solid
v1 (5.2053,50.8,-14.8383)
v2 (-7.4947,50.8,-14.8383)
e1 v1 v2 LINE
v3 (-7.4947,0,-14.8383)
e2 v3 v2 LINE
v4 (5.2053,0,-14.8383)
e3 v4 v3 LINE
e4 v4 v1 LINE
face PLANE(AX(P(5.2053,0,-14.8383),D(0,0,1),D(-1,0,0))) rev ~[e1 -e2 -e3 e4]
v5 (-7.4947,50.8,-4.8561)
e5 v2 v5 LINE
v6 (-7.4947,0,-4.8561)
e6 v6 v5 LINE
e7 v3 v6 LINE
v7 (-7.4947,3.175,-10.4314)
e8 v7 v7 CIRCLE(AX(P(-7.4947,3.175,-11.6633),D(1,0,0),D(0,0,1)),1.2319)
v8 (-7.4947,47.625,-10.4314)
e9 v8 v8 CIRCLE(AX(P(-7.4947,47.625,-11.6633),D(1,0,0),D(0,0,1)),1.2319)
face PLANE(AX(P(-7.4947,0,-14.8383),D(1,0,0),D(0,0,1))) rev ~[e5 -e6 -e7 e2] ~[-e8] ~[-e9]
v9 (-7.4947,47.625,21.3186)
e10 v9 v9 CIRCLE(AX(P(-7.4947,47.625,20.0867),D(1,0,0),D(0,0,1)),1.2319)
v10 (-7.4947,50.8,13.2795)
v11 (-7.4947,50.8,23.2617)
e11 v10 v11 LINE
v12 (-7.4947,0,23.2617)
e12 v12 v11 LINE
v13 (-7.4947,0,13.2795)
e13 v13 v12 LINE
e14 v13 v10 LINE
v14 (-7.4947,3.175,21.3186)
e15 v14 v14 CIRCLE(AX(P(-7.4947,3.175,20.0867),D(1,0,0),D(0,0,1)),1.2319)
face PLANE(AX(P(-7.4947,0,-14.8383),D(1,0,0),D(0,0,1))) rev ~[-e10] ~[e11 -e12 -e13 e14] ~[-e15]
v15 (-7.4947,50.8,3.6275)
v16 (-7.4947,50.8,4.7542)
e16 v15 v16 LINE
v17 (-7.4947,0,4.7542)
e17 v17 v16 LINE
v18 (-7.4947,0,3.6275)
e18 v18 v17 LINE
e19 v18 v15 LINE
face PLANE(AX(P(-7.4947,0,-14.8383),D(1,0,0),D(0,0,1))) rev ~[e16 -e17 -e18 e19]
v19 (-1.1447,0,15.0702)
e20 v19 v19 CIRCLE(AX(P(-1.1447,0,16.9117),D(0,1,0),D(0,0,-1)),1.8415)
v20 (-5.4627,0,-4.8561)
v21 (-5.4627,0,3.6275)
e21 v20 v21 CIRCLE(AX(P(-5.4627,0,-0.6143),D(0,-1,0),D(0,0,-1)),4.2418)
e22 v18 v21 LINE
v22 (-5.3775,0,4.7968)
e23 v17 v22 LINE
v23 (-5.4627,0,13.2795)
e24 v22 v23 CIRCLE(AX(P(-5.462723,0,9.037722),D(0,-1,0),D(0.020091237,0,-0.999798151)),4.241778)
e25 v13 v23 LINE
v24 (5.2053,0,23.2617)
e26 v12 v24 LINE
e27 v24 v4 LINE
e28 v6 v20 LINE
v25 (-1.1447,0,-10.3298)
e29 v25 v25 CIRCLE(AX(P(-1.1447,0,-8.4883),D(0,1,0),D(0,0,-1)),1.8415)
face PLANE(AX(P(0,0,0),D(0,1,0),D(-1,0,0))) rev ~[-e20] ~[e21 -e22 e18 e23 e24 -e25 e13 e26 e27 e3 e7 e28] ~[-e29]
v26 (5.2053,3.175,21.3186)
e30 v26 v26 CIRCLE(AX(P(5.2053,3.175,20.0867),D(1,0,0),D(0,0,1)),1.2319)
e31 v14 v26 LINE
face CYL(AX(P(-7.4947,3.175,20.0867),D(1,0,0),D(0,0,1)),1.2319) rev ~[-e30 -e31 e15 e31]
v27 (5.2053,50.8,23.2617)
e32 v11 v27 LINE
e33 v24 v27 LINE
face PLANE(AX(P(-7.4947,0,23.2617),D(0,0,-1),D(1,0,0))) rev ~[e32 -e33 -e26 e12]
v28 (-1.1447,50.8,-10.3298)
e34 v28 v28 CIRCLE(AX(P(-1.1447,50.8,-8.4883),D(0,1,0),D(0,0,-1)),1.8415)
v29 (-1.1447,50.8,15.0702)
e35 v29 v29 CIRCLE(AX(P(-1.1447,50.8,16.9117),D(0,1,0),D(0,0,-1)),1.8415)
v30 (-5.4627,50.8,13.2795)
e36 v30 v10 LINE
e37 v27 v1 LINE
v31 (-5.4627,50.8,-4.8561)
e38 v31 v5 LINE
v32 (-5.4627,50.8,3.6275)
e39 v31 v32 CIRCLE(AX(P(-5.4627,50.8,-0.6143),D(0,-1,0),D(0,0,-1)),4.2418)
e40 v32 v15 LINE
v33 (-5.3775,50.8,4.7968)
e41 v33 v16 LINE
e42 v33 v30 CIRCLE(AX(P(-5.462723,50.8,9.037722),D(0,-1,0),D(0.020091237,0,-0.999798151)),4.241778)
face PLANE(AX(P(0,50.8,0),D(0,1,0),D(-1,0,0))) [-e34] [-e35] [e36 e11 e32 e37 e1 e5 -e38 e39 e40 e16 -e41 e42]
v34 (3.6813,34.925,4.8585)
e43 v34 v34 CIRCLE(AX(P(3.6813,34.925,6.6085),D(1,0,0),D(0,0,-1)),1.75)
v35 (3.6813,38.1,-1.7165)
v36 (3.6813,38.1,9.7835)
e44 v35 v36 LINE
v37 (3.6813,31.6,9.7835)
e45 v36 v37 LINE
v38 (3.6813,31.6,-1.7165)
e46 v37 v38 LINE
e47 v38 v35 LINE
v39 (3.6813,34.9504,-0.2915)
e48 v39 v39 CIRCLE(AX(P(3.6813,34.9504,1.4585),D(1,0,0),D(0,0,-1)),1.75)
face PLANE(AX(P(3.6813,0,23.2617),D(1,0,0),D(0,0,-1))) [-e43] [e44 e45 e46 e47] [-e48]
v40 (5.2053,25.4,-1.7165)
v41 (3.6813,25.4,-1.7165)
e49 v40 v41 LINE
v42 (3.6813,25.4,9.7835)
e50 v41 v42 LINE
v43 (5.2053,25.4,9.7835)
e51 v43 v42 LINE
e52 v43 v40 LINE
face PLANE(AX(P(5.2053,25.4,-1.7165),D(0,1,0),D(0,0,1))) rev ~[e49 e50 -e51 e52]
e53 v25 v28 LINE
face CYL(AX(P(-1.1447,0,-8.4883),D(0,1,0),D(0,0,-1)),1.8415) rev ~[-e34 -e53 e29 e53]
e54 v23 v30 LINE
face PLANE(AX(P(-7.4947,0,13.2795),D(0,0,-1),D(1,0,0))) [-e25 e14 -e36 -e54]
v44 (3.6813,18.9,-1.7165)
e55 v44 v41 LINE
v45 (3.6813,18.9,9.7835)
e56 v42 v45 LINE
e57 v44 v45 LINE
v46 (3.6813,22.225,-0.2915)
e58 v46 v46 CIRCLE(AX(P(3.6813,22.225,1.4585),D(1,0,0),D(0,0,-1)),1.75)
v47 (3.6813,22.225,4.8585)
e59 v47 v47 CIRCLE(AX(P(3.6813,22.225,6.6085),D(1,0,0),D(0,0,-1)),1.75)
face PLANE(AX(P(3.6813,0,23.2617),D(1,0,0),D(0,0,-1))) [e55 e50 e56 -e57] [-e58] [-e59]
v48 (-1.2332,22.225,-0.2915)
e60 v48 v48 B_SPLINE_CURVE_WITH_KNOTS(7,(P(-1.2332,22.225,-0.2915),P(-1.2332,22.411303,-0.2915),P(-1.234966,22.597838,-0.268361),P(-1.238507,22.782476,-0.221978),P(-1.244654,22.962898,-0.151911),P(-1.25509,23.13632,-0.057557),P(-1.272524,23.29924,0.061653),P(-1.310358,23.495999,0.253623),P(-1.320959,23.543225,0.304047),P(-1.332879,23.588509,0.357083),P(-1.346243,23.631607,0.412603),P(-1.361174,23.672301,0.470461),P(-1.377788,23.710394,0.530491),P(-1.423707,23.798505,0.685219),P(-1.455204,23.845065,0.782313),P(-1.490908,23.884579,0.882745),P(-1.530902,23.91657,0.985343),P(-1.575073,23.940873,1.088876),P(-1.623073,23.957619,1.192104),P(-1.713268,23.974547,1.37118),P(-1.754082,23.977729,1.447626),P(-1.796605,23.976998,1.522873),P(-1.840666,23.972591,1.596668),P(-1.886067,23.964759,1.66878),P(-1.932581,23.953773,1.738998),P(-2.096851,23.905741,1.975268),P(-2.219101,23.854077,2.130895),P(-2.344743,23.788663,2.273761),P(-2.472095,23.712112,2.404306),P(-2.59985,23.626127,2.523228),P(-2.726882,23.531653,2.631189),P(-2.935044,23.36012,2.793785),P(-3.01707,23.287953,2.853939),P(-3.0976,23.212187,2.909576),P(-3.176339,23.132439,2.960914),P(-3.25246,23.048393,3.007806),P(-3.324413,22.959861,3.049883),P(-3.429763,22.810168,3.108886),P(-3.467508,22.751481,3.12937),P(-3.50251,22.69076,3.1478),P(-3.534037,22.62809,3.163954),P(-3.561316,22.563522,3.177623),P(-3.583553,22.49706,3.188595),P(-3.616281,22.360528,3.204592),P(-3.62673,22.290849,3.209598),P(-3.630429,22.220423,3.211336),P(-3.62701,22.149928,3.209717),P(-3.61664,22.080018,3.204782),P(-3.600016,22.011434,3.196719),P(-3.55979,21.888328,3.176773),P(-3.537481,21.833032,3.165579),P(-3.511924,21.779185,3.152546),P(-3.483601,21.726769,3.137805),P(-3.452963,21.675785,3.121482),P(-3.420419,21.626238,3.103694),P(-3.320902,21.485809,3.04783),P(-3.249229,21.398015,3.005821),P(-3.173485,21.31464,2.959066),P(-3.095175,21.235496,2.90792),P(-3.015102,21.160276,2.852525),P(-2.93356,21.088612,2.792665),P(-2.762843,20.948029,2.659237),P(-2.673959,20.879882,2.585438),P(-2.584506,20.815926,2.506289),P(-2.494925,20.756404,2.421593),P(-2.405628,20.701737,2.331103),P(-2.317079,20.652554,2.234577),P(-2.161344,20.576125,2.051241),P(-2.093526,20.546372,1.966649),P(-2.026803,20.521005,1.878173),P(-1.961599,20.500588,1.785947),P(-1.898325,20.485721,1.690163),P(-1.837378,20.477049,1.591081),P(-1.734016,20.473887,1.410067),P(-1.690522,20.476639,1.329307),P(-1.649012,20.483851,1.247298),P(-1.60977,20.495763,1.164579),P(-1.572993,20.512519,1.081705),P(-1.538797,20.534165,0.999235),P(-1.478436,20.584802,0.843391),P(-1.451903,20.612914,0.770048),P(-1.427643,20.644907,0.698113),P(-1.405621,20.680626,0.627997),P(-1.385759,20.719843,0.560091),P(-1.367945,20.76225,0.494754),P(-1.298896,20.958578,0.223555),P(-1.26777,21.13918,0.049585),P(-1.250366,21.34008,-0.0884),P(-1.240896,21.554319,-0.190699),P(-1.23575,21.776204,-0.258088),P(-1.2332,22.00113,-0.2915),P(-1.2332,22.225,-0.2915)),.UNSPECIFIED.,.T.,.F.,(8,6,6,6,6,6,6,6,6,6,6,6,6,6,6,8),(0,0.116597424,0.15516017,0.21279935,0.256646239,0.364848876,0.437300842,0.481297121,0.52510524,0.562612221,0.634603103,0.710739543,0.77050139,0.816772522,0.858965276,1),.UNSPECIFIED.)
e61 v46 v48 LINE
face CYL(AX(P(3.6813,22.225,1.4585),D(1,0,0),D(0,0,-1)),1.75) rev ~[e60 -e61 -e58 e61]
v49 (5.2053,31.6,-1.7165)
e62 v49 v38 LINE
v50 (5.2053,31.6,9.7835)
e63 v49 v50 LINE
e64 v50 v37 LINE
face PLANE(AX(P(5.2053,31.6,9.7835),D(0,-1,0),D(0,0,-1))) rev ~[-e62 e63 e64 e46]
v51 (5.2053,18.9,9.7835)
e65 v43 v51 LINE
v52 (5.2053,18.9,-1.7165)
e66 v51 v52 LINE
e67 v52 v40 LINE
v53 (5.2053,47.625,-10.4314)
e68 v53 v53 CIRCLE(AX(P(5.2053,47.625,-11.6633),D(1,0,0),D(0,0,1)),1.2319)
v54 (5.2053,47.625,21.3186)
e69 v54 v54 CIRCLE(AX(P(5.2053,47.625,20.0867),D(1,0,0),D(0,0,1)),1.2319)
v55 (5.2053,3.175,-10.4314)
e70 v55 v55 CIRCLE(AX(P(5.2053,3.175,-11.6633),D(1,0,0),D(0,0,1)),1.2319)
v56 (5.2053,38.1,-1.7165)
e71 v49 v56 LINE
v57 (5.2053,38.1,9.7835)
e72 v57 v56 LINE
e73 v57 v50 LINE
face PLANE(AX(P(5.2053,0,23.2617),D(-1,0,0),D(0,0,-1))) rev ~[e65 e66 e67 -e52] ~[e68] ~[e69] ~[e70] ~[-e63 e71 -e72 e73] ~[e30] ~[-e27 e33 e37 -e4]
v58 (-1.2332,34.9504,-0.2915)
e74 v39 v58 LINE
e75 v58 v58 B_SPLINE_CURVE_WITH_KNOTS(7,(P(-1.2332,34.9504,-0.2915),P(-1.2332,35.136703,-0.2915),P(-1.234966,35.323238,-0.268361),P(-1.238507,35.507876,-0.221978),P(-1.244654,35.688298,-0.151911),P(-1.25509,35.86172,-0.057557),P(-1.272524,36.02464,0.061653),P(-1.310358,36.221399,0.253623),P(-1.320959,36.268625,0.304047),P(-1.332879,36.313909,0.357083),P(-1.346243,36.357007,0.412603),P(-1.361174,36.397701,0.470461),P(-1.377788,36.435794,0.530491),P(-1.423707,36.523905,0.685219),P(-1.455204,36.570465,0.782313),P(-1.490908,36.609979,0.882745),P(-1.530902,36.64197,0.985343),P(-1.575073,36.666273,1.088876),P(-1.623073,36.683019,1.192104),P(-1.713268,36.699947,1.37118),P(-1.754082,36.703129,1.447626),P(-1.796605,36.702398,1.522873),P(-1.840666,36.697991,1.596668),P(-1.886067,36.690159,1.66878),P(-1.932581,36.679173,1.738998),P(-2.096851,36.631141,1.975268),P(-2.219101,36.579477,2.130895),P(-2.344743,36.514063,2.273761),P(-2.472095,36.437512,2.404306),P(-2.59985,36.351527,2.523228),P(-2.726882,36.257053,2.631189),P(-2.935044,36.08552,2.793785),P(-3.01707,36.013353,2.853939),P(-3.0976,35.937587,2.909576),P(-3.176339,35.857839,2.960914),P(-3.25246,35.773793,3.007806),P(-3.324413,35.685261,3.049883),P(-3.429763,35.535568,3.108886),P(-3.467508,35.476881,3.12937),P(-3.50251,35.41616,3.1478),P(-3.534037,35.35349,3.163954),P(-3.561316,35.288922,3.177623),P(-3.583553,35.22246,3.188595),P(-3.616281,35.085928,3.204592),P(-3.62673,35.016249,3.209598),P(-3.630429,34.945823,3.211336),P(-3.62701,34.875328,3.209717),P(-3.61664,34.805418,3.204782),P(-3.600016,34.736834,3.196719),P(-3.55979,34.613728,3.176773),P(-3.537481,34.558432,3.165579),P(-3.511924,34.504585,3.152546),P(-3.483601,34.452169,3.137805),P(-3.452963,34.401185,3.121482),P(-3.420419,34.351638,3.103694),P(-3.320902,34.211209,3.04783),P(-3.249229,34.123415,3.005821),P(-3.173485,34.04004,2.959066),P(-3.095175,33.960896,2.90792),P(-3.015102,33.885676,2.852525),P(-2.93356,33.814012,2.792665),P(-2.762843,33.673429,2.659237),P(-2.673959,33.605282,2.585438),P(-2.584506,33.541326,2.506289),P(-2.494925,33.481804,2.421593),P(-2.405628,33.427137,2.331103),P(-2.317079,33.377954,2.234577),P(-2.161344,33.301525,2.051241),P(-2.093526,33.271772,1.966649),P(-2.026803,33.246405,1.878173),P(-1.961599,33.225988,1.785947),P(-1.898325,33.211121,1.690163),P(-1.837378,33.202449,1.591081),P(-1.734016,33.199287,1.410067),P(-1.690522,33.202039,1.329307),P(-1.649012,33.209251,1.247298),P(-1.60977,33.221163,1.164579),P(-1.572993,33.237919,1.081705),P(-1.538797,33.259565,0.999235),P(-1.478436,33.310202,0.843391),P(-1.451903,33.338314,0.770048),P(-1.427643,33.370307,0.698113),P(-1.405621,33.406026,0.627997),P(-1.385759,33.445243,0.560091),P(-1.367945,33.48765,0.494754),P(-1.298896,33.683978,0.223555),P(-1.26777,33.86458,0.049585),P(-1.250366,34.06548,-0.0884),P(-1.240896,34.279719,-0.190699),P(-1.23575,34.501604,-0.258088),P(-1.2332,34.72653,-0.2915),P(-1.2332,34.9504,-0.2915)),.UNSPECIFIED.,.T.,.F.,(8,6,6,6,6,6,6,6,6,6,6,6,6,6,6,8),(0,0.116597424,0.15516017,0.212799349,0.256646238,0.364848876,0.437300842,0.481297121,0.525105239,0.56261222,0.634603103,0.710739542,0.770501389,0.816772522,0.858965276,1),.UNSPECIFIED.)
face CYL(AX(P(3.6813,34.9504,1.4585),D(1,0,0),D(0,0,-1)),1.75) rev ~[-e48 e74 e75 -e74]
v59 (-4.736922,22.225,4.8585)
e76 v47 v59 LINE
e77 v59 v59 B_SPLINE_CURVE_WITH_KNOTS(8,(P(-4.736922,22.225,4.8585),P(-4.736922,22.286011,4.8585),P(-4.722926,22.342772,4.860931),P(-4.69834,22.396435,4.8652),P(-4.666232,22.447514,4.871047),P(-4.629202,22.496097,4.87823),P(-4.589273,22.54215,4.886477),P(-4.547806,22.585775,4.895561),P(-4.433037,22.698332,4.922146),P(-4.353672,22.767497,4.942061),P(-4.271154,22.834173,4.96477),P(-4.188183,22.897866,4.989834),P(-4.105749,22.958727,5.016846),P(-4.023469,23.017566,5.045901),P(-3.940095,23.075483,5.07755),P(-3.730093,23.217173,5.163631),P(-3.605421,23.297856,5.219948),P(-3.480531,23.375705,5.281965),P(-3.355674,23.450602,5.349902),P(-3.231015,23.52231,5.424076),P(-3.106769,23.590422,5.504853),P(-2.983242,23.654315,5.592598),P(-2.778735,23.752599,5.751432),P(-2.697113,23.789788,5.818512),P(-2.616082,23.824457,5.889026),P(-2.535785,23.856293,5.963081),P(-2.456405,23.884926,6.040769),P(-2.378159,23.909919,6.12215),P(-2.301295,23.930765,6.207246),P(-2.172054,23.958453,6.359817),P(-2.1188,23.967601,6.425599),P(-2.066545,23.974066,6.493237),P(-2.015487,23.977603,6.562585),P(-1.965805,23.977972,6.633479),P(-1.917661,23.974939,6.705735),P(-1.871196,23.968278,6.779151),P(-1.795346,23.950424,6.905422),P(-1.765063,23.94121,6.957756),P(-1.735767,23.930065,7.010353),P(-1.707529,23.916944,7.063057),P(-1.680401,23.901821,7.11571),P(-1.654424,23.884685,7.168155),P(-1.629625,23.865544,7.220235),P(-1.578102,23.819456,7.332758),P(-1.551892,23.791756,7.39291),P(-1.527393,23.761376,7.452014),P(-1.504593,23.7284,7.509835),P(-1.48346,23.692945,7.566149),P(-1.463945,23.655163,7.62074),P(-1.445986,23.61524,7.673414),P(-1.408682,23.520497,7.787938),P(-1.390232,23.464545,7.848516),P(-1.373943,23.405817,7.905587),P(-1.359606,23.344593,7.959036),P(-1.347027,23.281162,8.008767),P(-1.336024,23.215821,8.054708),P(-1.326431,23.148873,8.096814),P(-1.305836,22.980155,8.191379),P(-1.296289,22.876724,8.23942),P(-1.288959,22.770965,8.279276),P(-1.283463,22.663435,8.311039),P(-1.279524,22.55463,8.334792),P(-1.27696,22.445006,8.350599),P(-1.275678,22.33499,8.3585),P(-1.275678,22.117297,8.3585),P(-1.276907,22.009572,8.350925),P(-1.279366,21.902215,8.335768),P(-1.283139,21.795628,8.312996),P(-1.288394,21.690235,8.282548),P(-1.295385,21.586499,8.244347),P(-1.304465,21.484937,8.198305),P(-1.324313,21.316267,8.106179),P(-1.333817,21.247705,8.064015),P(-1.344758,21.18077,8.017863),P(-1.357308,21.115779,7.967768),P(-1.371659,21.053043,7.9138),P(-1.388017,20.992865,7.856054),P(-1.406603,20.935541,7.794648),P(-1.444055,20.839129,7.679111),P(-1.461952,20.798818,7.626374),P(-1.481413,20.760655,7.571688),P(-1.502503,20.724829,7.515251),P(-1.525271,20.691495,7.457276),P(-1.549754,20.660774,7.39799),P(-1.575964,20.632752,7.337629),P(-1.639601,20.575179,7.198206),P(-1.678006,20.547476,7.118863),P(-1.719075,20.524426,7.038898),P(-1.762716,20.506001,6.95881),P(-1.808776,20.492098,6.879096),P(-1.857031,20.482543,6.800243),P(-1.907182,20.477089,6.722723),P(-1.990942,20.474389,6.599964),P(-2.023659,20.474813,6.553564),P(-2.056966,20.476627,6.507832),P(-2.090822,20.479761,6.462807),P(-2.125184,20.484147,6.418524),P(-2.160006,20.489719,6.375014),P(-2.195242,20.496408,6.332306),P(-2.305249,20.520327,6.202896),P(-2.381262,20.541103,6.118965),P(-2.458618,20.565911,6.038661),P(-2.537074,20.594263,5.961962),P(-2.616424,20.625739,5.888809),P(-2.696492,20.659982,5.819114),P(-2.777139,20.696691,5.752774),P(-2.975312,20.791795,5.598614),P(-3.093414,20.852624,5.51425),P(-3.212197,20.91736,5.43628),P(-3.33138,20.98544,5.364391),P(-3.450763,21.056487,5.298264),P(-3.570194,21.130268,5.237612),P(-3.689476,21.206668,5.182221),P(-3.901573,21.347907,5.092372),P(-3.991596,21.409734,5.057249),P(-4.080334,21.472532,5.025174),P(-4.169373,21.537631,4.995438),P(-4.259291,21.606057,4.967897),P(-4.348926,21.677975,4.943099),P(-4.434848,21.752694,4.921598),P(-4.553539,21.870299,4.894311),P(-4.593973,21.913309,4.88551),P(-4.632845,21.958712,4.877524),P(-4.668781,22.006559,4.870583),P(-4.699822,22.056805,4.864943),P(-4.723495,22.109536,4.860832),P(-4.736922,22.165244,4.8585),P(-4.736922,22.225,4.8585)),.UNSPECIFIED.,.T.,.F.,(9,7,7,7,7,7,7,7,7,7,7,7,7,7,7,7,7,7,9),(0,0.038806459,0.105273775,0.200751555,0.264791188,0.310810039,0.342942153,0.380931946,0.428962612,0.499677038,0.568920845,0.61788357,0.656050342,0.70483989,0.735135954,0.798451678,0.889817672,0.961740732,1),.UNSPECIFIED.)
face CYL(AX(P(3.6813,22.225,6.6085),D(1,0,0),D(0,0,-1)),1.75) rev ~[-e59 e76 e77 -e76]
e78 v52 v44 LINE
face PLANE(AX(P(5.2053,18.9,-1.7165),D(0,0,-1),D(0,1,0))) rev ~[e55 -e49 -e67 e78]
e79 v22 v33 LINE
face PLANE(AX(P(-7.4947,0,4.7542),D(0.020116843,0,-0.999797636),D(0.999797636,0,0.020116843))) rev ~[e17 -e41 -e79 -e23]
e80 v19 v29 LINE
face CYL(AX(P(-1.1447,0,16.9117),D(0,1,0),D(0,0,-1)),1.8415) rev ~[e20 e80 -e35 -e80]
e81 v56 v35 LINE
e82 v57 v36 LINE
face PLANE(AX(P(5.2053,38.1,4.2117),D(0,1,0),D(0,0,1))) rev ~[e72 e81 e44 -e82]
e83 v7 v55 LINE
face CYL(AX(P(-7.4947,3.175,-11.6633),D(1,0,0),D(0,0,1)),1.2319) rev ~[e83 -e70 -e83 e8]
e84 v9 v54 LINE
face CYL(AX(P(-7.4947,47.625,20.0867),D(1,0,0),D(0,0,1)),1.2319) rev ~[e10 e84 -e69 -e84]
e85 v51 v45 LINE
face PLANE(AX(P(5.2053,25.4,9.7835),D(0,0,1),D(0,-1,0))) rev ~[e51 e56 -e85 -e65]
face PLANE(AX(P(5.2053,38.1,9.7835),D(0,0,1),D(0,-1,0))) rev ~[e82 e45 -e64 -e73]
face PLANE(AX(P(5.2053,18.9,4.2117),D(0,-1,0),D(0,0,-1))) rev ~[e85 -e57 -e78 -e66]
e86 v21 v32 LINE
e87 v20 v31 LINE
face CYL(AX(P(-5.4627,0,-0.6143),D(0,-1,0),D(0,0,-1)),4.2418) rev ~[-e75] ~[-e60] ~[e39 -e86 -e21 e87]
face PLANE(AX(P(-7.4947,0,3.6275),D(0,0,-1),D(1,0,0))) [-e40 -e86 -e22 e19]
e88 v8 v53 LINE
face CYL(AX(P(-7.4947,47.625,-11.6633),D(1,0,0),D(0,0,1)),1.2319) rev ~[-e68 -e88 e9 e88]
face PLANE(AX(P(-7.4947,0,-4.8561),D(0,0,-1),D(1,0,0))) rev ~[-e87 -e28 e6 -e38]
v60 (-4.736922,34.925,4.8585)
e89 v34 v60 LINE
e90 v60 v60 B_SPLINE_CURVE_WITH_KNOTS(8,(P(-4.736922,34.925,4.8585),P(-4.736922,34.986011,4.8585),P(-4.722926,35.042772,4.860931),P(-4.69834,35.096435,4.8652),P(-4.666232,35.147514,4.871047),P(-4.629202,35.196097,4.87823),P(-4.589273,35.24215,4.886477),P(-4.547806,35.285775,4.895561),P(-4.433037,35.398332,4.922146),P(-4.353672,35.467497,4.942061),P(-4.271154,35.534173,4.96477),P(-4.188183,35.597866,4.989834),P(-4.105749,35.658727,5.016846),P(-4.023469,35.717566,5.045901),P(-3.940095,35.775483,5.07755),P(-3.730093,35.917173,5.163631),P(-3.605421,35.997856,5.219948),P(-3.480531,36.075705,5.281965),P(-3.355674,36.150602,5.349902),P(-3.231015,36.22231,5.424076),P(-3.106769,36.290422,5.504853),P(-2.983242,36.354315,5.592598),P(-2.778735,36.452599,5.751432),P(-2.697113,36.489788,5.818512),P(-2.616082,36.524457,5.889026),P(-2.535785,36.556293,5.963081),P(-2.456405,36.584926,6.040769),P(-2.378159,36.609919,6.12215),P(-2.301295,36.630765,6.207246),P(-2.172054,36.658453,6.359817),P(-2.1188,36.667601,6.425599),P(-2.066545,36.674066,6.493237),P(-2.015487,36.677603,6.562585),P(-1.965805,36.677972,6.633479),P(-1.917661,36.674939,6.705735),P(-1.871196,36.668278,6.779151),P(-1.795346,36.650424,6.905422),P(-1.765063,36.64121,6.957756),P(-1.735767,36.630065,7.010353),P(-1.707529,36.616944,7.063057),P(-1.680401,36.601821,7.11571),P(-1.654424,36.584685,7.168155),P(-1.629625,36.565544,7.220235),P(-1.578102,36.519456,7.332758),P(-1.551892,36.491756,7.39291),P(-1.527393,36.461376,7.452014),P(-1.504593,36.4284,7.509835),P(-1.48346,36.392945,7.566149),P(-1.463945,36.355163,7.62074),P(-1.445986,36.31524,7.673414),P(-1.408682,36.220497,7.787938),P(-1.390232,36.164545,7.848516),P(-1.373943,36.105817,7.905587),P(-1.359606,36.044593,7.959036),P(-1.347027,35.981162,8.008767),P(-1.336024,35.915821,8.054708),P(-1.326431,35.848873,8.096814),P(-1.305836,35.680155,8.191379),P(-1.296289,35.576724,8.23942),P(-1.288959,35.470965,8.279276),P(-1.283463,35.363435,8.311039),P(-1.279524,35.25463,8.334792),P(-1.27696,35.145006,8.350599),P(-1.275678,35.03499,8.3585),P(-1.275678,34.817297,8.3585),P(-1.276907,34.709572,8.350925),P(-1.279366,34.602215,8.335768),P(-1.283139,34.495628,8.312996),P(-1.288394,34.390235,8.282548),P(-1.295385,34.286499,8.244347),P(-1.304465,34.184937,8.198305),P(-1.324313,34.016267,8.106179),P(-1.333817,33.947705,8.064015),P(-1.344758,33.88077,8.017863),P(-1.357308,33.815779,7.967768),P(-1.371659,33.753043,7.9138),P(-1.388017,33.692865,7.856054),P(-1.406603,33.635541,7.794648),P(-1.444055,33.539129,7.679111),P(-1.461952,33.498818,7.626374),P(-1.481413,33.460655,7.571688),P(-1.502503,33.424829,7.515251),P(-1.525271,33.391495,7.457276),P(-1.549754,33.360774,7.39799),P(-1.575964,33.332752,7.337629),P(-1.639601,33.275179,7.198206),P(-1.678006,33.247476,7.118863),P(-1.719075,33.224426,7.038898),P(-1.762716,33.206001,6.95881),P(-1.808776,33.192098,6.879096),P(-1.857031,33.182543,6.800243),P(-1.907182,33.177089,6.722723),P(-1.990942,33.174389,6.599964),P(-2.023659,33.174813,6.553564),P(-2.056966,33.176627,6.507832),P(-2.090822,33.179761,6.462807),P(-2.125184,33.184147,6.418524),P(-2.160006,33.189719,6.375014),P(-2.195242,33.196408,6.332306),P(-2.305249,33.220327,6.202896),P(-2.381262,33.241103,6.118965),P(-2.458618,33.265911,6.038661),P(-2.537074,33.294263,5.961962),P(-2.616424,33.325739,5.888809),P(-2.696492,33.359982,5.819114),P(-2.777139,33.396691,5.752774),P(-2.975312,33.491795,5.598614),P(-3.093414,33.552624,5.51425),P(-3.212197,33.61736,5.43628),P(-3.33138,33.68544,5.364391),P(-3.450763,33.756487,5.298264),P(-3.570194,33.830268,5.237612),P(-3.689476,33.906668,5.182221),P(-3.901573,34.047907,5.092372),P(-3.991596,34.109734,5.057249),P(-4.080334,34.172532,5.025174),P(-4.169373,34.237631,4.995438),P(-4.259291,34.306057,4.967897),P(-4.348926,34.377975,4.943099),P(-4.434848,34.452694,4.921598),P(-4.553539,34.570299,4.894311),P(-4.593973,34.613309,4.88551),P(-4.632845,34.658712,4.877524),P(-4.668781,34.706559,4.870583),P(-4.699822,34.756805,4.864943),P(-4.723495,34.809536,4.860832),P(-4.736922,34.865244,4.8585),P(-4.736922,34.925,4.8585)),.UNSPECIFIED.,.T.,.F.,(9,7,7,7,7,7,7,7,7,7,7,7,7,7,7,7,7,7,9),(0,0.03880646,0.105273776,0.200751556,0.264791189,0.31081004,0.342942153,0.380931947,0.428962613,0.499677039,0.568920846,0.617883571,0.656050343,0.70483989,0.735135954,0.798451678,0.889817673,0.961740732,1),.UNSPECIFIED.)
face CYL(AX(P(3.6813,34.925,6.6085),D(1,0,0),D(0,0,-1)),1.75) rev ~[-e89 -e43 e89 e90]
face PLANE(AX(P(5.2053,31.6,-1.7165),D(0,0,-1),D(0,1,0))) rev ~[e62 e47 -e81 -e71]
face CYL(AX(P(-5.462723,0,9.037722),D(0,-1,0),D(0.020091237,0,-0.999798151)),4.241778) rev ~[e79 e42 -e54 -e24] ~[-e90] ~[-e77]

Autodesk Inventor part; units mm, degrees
ref_plane "YZ Plane" through (0, 0, 0) normal (1, 0, 0) x (0, 1, 0)
ref_plane "XZ Plane" through (0, 0, 0) normal (0, 1, 0) x (-1, 0, 0)
ref_plane "XY Plane" through (0, 0, 0) normal (0, 0, 1) x (1, 0, 0)
sketch "Sketch1" plane through (0, 0, 0) normal (0, 1, 0) x (-1, 0, 0)
  line L0 (7.4947, 23.2617) -> (-5.2053, 23.2617)
  line L1 (-5.2053, 23.2617) -> (-5.2053, -14.8383)
  line L2 (-5.2053, -14.8383) -> (7.4947, -14.8383)
  line L3 (7.4947, -14.8383) -> (7.4947, 23.2617)
  point P0 (0, 0)
  dimension "d0" = 38.1
  dimension "d1" = 12.7
extrude "Extrusion1" add sketch "Sketch1" along normal blind 50.8
sketch "Sketch2" plane through (5.2053, 0, 23.2617) normal (1, 0, 0) x (0, 0, -1)
  line L0 (13.4782, 31.6) -> (24.9782, 31.6)
  line L1 (24.9782, 31.6) -> (24.9782, 38.1)
  line L2 (24.9782, 38.1) -> (13.4782, 38.1)
  line L3 (13.4782, 38.1) -> (13.4782, 31.6)
  line L4 (13.4782, 18.9) -> (24.9782, 18.9)
  line L5 (24.9782, 18.9) -> (24.9782, 25.4)
  line L6 (24.9782, 25.4) -> (13.4782, 25.4)
  line L7 (13.4782, 25.4) -> (13.4782, 18.9)
  line L8 (0, 0) -> (0, 50.8) projected
  line L9 (0, 0) -> (38.1, 0) projected
  line L10 (19.05, 56.7236) -> (19.05, -6.6913)
  point P0 (23.2617, 0)
  dimension "d4" = 11.5
  dimension "d5" = 0
  dimension "d6" = 0
  dimension "d8" = 25.4
  dimension "d9" = 12.7
  dimension "d10" = 6.5
  dimension "d11" = 6.5
  dimension "d47" = 19.05
extrude "Extrusion2" cut sketch "Sketch2" against normal blind 1.524
sketch "Sketch3" plane through (3.6813, 0, 23.2617) normal (1, 0, 0) x (0, 0, -1)
  circle A0 centre (21.8032, 22.225) radius 1.75
  circle A1 centre (16.6532, 22.225) radius 1.75
  line L0 (13.4782, 25.4) -> (24.9782, 25.4) projected
  line L1 (13.4782, 18.9) -> (13.4782, 25.4) projected
  line L2 (24.9782, 25.4) -> (24.9782, 18.9) projected
  circle A2 centre (16.6532, 34.925) radius 1.75
  circle A3 centre (21.8032, 34.9504) radius 1.75
  line L3 (13.4782, 38.1) -> (24.9782, 38.1) projected
  point P0 (23.2617, 0)
  dimension "d15" = 3.5
  dimension "d16" = 3.5
  dimension "d17" = 3.175
  dimension "d18" = 3.175
  dimension "d19" = 3.175
  dimension "d20" = 3.175
  dimension "d21" = 3.5
  dimension "d22" = 3.5
  dimension "d23" = 3.175
  dimension "d24" = 3.1496
  dimension "d48" = 0
  dimension "d49" = 0
extrude "Extrusion3" cut sketch "Sketch3" against normal blind 41.3385
sketch "Sketch4" plane through (0, 0, 0) normal (0, -1, 0) x (1, 0, 0)
  line L0 (5.2053, -14.8383) -> (-7.4947, -14.8383) projected
  line L1 (5.2053, 23.2617) -> (5.2053, -14.8383) projected
  point P0 (0, 0)
  point P1 (-1.1447, 16.9117)
  point P2 (-1.1447, -8.4883)
  dimension "d27" = 25.4
  dimension "d28" = 6.35
  dimension "d29" = 6.35
  dimension "d30" = 0
hole "Hole1" at (-1.1447, 0, 16.9117) at (-1.1447, 0, -8.4883) direction (0, 1, 0) diameter 3.683 end through all thread size "10-24 UNC" class "2B" standard "ANSI Unified Screw Threads"
sketch "Sketch5" plane through (0, 0, 0) normal (0, -1, 0) x (1, 0, 0)
  arc A0 (-5.3775, 4.7968) -> (-5.4627, 13.2795) centre (-5.4627, 9.0377) ccw
  arc A1 (-5.4627, -4.8561) -> (-5.4627, 3.6275) centre (-5.4627, -0.6143) ccw
  line L0 (-7.4947, -14.8383) -> (-7.4947, 23.2617) projected
  line L1 (-7.4947, 23.2617) -> (5.2053, 23.2617) projected
  line L2 (5.2053, -14.8383) -> (-7.4947, -14.8383) projected
  line L3 (-7.4947, -4.8561) -> (-5.4627, -4.8561)
  line L4 (-7.4947, 3.6275) -> (-5.4627, 3.6275)
  line L5 (-7.4947, 4.7542) -> (-5.3775, 4.7968)
  line L6 (-7.4947, 13.2795) -> (-5.4627, 13.2795)
  point P0 (0, 0)
  dimension "d38" = 8.4836
  dimension "d39" = 8.4836
  dimension "d42" = 14.224
  dimension "d43" = 14.224
  dimension "d50" = 0
  dimension "d51" = 2.032
  dimension "d67" = 4.2418
  dimension "d68" = 4.2418
  dimension "d69" = 4.2418
  dimension "d70" = 4.2418
extrude "Extrusion4" cut sketch "Sketch5" against normal blind 76.2
sketch "Sketch7" plane through (-7.4947, 0, 23.2617) normal (-1, 0, 0) x (0, 0, 1)
  line L0 (-38.1, 0) -> (-38.1, 50.8) projected
  line L1 (-38.1, 0) -> (-28.1178, 0) projected
  line L2 (-38.1, 50.8) -> (-28.1178, 50.8) projected
  line L3 (0, 0) -> (0, 50.8) projected
  point P0 (-23.2617, 0)
  point P1 (-34.925, 3.175)
  point P2 (-34.925, 47.625)
  point P3 (-27.821, 0)
  point P4 (-27.821, 50.8)
  point P5 (-3.175, 3.175)
  point P6 (-3.175, 47.625)
  dimension "d52" = 0
  dimension "d53" = 3.175
  dimension "d54" = 3.175
  dimension "d55" = 3.175
  dimension "d56" = 0
  dimension "d57" = 3.175
  dimension "d58" = 0
  dimension "d59" = 0
hole "Hole2" at (-7.4947, 3.175, -11.6633) at (-7.4947, 47.625, -11.6633) at (-7.4947, 3.175, 20.0867) at (-7.4947, 47.625, 20.0867) direction (1, 0, 0) diameter 2.4638 end through all
properties part number "PowerPlugBlock"
